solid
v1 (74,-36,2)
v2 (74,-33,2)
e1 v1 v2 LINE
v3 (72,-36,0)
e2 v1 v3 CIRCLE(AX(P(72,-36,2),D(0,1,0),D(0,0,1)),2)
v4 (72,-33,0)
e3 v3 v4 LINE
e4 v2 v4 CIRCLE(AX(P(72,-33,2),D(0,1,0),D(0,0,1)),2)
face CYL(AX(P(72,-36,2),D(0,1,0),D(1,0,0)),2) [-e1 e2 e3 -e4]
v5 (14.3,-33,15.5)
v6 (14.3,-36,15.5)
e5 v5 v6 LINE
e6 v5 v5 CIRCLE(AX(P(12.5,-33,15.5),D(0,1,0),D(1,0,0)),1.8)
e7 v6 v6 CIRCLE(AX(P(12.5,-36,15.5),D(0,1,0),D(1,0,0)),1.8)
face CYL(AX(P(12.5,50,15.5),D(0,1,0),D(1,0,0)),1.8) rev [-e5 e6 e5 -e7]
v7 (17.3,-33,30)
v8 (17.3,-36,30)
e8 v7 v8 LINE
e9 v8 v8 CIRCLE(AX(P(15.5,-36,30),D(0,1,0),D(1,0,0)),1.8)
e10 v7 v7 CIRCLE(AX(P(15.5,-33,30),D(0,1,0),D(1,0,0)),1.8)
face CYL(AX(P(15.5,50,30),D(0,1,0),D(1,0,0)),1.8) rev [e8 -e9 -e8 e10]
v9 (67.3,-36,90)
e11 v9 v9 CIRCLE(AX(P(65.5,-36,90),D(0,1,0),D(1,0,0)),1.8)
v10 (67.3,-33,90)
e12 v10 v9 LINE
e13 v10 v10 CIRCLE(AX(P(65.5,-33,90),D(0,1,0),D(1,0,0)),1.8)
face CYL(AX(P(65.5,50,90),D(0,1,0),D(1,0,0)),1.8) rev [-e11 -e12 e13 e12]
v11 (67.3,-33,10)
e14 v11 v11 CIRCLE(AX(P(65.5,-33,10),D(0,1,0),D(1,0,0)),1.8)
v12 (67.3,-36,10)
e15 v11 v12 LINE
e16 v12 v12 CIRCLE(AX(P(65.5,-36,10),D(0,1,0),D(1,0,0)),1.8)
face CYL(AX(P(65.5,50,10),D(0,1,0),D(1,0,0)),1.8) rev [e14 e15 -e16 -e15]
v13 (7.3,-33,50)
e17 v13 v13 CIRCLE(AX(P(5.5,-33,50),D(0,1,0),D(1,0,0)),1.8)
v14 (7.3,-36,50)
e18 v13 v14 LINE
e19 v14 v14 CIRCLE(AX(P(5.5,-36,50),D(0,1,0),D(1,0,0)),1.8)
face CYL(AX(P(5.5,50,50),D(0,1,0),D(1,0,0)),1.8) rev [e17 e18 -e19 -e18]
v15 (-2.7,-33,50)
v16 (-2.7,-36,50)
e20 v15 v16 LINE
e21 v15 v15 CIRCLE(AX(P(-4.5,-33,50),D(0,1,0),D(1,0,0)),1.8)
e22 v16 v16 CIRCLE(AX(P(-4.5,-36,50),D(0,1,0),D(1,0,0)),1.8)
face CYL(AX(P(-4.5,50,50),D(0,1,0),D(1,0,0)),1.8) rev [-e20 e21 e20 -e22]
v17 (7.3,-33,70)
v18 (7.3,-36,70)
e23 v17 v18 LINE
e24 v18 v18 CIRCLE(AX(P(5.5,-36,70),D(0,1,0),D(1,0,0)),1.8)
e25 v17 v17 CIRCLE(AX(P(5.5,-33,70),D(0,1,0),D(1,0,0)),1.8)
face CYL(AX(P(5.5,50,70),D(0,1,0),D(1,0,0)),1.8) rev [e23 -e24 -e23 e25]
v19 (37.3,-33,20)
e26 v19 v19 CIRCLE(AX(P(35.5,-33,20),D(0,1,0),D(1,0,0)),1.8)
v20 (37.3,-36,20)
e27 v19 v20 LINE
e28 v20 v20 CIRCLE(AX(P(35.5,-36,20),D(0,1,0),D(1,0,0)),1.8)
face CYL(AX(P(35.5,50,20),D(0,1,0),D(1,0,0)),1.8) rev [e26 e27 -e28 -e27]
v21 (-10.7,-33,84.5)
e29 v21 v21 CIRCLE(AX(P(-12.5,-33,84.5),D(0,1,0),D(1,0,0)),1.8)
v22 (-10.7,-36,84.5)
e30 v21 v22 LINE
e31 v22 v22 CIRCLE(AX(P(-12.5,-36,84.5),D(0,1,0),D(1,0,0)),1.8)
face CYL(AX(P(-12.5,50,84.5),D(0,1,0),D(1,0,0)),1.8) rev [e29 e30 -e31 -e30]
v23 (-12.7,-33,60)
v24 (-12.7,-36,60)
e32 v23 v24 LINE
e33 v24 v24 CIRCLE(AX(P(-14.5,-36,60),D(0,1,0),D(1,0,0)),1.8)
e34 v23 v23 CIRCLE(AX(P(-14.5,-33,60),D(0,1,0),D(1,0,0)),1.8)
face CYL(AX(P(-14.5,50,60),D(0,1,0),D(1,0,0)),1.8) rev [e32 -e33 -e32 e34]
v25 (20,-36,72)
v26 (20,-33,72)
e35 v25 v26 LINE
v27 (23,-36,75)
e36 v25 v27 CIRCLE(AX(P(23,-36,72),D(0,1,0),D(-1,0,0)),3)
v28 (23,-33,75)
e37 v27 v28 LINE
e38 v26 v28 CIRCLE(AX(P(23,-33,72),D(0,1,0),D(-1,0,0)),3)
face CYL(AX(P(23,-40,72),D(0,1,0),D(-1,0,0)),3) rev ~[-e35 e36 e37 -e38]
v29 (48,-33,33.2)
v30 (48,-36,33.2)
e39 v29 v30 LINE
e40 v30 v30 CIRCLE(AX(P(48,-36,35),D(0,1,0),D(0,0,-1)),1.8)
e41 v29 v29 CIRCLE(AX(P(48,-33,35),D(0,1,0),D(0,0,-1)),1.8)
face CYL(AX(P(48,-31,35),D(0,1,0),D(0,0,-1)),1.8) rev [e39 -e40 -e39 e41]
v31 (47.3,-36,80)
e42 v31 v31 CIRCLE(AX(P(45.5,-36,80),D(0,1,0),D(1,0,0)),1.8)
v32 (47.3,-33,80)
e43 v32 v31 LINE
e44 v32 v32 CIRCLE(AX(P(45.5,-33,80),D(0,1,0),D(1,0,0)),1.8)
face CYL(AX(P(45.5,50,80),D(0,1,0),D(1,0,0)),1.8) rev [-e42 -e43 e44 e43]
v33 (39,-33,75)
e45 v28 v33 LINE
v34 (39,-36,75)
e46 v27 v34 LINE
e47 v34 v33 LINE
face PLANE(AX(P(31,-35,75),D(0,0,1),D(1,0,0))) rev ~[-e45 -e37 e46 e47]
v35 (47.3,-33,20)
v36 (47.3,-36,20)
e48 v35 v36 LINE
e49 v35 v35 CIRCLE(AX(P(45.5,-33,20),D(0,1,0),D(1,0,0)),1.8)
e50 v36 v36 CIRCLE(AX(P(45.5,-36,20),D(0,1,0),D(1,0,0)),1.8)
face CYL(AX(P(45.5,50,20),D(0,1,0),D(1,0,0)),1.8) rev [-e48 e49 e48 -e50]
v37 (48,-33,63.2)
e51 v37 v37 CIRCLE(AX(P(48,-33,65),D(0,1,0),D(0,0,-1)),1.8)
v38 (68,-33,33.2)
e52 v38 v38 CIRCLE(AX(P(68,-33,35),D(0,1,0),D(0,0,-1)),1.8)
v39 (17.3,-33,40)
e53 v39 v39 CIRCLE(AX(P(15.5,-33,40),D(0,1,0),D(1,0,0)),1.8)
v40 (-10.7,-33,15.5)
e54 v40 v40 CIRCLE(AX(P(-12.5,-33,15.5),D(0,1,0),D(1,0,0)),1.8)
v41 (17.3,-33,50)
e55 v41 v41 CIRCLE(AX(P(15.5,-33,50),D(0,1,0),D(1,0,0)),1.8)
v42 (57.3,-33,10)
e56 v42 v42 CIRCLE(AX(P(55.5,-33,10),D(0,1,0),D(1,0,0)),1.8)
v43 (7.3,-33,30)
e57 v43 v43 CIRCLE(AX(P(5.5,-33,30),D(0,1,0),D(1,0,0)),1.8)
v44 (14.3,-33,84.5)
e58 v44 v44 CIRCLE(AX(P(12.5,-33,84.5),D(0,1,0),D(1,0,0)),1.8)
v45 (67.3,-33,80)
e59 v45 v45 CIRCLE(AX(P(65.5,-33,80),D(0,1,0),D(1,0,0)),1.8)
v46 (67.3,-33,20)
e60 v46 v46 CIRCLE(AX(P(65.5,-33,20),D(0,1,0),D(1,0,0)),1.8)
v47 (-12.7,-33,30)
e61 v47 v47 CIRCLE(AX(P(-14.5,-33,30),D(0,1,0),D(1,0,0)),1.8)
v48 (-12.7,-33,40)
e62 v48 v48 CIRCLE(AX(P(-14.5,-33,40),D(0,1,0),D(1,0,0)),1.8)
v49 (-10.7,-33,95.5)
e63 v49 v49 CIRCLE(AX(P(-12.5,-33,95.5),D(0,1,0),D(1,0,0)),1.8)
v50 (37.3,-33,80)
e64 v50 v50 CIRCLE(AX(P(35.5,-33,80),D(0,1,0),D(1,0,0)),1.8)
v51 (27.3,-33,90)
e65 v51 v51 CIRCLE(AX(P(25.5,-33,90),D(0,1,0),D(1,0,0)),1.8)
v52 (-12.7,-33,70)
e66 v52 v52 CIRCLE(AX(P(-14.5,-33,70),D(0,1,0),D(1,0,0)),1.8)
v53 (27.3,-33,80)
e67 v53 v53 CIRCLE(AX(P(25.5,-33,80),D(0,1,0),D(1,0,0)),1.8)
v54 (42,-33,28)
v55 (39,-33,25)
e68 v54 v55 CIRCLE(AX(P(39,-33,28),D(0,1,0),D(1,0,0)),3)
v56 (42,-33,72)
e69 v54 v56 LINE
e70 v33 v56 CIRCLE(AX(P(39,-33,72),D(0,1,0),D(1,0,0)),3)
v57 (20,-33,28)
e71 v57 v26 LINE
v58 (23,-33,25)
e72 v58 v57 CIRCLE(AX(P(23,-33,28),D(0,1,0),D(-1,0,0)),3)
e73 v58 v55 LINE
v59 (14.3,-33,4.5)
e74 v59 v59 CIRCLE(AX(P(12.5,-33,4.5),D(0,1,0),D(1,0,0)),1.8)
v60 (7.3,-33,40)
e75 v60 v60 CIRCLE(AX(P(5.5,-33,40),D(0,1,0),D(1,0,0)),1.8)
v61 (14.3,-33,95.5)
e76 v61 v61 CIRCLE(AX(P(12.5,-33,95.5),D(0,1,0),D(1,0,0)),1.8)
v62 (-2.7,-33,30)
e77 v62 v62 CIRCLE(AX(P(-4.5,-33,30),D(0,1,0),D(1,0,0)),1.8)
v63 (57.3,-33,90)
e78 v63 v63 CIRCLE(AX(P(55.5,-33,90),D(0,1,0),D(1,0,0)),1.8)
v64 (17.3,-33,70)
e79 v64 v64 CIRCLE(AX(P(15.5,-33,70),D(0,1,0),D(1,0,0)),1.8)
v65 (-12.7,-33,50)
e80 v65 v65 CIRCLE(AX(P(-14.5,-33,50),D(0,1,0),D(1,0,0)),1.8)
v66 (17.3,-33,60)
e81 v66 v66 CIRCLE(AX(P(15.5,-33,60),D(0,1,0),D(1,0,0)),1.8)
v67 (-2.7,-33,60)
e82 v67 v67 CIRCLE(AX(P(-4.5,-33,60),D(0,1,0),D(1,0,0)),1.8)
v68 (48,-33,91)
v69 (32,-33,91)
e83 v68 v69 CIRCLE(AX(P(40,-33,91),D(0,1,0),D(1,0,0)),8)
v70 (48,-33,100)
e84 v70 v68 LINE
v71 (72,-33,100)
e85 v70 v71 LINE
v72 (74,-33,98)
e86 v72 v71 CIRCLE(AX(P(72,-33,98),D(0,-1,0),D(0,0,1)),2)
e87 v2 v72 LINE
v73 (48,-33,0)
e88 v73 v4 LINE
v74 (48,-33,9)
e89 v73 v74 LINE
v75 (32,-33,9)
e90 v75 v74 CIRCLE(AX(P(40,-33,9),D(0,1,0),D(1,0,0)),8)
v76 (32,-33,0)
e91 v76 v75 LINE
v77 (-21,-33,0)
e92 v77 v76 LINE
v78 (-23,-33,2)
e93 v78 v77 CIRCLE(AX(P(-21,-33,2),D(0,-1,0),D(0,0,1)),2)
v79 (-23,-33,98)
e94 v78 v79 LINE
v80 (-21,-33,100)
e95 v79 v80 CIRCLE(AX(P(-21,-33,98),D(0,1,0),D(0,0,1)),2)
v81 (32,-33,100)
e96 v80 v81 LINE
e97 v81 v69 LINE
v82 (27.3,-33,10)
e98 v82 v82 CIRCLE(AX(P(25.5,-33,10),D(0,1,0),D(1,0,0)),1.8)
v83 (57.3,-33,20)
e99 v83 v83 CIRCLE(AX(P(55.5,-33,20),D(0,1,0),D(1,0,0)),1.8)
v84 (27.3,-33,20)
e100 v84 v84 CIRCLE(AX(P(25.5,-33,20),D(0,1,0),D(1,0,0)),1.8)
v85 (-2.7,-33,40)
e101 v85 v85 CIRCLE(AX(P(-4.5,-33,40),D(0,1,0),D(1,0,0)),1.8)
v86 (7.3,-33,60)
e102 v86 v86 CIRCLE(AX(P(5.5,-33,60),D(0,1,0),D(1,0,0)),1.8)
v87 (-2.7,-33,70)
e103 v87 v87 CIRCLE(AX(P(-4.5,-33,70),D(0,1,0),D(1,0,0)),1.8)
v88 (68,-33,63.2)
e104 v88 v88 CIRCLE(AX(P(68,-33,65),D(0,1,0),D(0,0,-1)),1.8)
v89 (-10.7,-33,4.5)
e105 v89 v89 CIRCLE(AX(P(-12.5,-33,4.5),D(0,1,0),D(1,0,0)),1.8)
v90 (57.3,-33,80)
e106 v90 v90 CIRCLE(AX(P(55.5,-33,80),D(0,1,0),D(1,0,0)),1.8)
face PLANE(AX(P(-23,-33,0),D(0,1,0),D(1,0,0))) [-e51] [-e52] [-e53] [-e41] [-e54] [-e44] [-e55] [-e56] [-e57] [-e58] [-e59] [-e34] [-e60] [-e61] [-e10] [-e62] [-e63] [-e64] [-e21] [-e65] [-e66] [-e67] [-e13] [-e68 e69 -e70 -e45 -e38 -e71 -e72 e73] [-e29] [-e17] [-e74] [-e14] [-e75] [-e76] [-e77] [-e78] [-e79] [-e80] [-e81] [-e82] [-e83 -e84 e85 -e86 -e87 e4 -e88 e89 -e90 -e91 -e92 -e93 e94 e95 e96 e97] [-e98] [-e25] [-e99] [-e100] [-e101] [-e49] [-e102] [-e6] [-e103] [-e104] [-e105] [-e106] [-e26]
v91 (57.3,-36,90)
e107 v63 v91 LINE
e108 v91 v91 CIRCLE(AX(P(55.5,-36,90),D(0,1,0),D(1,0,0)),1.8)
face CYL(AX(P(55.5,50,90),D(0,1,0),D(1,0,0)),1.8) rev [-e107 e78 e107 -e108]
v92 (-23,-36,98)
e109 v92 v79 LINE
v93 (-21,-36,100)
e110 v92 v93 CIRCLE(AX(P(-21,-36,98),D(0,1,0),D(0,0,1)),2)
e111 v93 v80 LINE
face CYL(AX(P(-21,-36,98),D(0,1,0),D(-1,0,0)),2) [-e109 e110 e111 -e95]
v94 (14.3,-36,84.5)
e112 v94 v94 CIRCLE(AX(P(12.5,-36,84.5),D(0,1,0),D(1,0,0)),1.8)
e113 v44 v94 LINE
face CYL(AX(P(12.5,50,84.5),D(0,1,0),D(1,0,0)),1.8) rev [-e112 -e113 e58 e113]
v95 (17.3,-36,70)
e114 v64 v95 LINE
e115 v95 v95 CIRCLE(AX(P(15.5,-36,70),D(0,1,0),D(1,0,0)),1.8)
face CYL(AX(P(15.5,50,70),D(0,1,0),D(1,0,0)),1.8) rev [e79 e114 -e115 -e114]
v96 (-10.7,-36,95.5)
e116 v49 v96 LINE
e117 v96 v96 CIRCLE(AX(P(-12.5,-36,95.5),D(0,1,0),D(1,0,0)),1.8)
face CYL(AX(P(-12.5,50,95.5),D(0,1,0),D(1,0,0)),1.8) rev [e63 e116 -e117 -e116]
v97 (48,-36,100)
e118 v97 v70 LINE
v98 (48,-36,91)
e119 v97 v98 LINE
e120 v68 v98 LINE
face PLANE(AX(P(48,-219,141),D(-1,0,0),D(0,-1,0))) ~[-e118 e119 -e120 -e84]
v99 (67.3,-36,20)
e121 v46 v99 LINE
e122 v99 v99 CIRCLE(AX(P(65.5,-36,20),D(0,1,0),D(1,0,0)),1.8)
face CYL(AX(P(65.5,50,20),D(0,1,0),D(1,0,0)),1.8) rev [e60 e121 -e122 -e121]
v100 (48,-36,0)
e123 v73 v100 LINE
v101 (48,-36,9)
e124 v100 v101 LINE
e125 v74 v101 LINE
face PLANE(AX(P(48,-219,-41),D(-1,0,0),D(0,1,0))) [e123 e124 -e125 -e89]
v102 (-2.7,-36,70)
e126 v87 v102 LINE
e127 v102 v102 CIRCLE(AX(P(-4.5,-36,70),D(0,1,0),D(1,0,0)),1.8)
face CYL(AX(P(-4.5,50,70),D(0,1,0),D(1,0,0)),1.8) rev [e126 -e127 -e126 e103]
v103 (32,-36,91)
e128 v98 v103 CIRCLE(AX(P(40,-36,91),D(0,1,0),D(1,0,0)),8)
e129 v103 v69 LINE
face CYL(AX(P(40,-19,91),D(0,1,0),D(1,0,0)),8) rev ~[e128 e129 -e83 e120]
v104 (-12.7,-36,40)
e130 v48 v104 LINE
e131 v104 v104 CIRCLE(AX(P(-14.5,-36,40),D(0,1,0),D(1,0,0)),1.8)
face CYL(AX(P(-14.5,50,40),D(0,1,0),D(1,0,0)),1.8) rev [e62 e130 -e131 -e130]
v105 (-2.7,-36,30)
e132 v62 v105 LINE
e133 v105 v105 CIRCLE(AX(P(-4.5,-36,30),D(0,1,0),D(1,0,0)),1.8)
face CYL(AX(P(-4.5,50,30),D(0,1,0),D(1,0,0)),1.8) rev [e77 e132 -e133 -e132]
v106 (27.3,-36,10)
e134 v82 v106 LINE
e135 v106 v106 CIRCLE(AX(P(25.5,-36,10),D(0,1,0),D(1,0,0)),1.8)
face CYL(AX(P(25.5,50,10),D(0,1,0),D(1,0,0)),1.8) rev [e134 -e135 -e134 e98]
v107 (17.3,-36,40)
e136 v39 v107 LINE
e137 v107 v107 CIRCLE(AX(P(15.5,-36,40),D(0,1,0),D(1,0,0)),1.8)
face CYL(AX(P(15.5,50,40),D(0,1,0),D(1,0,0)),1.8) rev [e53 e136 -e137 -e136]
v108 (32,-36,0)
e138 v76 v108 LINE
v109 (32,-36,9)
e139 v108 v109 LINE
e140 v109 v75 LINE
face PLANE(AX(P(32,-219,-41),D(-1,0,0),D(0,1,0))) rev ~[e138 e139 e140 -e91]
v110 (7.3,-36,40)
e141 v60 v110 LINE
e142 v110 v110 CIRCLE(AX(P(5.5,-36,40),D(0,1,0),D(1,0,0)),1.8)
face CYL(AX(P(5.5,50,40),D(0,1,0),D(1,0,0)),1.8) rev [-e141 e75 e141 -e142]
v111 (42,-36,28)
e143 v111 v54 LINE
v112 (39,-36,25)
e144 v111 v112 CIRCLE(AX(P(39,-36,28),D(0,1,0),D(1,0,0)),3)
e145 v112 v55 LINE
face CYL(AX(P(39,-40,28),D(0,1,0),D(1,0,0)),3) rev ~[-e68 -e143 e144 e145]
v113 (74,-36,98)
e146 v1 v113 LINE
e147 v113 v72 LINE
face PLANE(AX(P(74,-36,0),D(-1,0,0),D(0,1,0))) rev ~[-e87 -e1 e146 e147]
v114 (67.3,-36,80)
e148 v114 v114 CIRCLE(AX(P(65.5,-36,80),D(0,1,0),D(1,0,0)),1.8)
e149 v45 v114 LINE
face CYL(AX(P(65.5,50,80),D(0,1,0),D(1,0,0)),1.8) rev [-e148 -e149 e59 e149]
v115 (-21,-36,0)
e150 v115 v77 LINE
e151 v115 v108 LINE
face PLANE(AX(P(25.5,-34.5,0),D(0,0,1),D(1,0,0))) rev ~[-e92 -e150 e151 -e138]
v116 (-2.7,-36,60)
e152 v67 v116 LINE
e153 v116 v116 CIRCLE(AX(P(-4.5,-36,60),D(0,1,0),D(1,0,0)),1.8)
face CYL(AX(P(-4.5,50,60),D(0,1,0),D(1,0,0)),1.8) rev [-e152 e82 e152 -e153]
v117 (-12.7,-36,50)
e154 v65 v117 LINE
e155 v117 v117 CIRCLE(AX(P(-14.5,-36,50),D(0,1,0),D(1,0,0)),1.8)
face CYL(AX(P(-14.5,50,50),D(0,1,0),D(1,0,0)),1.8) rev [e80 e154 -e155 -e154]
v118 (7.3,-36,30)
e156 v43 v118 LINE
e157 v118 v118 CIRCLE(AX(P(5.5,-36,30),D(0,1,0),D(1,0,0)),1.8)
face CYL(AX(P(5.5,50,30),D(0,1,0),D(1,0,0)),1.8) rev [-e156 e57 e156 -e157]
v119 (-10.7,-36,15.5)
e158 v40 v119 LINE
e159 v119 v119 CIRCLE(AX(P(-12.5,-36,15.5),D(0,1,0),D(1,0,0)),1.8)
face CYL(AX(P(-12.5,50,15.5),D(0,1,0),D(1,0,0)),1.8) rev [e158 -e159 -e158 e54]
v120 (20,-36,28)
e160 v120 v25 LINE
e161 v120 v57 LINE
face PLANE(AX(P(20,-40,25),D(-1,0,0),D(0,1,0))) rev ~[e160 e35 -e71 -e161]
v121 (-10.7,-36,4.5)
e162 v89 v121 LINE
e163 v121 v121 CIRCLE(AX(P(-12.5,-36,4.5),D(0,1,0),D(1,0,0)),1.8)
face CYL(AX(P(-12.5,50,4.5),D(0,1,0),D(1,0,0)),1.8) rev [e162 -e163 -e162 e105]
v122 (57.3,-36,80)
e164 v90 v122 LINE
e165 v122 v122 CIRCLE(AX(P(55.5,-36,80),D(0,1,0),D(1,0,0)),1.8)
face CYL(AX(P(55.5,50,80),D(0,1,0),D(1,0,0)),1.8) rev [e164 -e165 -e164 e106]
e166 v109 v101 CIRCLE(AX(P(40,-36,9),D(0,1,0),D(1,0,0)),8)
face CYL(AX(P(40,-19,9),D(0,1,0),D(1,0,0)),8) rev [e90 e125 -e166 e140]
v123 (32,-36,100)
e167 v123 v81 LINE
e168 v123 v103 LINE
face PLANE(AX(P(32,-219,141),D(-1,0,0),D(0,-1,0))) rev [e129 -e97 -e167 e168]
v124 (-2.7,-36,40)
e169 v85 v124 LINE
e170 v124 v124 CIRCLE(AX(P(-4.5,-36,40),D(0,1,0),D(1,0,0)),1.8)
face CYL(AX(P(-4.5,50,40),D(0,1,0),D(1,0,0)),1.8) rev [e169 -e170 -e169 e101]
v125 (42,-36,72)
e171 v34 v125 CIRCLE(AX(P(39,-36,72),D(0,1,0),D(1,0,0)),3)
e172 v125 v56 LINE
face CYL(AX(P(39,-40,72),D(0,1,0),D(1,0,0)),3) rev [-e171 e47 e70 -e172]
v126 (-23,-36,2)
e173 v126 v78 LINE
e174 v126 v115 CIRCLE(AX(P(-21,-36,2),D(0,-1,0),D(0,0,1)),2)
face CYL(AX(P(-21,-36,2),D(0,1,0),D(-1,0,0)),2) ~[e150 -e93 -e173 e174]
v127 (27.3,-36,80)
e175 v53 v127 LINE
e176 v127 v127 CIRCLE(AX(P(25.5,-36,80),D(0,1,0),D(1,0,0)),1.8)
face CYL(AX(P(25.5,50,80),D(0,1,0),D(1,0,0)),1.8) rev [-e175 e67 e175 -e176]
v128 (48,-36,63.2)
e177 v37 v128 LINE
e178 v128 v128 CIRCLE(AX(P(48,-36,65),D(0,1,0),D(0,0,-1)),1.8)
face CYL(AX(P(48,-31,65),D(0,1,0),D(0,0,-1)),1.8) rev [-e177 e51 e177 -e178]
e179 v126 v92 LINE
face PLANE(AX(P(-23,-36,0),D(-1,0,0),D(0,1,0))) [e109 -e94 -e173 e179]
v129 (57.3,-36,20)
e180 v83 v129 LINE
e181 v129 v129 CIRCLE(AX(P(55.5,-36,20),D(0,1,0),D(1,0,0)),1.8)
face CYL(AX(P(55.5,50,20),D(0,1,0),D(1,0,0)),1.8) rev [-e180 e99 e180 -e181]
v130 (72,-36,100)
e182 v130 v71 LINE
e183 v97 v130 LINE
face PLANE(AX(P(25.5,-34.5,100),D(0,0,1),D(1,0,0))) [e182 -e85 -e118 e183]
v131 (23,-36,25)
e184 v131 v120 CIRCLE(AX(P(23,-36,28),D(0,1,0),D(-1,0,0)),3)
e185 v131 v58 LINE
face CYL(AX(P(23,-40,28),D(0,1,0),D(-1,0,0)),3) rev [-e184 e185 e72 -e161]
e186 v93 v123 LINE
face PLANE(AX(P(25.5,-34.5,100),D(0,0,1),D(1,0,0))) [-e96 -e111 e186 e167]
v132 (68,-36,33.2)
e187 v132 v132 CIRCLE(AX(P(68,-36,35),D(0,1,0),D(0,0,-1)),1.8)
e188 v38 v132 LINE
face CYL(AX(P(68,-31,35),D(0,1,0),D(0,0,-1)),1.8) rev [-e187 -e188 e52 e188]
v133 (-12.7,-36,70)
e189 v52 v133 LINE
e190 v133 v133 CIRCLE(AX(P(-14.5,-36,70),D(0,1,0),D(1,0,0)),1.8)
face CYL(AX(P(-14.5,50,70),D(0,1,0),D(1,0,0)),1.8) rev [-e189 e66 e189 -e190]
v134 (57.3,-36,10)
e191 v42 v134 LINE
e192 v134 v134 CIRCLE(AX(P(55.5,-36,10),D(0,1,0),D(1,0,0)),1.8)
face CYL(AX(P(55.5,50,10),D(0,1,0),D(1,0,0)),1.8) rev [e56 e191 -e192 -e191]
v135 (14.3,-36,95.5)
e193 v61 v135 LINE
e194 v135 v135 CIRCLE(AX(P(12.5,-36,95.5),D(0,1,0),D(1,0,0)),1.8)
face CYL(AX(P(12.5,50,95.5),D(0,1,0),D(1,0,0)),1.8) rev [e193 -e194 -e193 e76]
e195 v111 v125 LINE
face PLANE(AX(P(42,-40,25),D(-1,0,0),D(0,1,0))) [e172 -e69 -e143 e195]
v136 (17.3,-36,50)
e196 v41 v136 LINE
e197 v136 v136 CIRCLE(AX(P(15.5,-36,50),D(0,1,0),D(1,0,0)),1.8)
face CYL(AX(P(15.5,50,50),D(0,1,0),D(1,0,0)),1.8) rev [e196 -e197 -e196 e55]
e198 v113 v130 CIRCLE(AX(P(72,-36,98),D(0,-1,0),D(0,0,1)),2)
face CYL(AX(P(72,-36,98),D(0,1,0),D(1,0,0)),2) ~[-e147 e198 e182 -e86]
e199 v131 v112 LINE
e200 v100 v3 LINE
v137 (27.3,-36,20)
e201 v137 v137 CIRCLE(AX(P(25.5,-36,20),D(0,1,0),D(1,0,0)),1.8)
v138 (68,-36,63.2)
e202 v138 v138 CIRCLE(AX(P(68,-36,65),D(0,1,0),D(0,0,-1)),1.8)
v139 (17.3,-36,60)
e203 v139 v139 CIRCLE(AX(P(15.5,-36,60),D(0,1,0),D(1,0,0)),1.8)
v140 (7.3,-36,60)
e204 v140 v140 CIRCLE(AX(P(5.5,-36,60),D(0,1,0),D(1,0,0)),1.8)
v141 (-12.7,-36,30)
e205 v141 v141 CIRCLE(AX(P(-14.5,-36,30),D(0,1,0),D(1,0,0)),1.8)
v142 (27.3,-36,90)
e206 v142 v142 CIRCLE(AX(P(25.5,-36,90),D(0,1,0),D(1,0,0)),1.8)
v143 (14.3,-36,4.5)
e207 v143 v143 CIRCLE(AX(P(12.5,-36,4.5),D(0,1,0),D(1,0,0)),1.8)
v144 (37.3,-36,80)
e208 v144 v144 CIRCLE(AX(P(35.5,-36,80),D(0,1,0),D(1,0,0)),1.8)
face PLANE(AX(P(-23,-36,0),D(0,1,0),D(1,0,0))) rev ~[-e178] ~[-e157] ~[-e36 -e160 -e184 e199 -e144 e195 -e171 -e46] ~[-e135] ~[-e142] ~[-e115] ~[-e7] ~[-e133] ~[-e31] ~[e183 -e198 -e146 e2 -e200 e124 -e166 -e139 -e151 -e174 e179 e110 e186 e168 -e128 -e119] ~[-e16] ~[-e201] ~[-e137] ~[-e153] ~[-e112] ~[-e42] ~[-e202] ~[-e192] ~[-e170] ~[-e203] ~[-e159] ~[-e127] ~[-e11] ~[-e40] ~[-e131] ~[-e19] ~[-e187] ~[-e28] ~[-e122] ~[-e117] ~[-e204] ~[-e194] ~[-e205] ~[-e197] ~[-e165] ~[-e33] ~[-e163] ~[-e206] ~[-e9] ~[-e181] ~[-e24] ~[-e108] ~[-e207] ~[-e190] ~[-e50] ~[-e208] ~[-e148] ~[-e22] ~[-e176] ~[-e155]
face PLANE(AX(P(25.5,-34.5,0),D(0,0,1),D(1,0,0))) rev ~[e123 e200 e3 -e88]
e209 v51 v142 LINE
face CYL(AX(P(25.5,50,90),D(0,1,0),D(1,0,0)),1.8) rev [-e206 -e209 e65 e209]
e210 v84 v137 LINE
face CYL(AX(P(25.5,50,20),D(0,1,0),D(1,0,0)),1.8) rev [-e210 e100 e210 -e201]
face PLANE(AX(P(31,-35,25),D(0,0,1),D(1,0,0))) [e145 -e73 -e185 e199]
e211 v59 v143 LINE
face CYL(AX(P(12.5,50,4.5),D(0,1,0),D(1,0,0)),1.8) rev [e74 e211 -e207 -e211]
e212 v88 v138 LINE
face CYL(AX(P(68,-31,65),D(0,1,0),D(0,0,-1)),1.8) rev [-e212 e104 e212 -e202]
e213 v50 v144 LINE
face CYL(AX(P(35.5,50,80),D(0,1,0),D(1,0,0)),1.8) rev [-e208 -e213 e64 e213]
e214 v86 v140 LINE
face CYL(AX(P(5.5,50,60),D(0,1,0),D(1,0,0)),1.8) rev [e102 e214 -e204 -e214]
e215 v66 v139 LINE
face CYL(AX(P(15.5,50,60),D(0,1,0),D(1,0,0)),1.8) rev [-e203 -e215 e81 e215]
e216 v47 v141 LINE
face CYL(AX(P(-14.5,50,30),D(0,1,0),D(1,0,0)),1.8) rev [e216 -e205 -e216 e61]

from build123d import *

# Parameters (mm, degrees)
CYLINDER038_R            = 1.8
CYLINDER038_DEPTH        = 100
ARRAY001_X_COUNT         = 2
ARRAY001_X_PITCH         = 25
ARRAY001_Y_COUNT         = 2
ARRAY001_Y_PITCH         = 11
ARRAY001_PLACEMENT_ANGLE = 90
ARRAY002_Z_COUNT         = 2
ARRAY002_Z_PITCH         = 80
CYLINDER011003_R         = 1.8
CYLINDER011003_DEPTH     = 10
ARRAY005_X_COUNT         = 2
ARRAY005_X_PITCH         = 30
ARRAY005_Y_COUNT         = 2
ARRAY005_Y_PITCH         = 20
ARRAY005_PITCH_ANGLE     = 90
ARRAY005_PLACEMENT_ANGLE = -90
BOX002_W                 = 22
BOX002_H                 = 10
BOX002_DEPTH             = 50
FILLET002_R              = 3
BOX003_W                 = 16
BOX003_H                 = 200
BOX003_DEPTH             = 50
CYLINDER_R               = 8
CYLINDER_DEPTH           = 200
SKETCH_W                 = 42.117567
SKETCH_H                 = 23.738708
SKETCH_W_2               = 40.471139
SKETCH_H_2               = 27.047569
SKETCH_W_3               = 29.381024
SKETCH_H_3               = 46.19655
EXTRUDE_DEPTH            = 50
CYLINDER011002_R         = 1.8
CYLINDER011002_DEPTH     = 100
ARRAY004_X_COUNT         = 9
ARRAY004_X_PITCH         = 10
ARRAY004_Z_COUNT         = 9
ARRAY004_Z_PITCH         = 10
BOX_W                    = 97
BOX_H                    = 3
BOX_DEPTH                = 100
FILLET_R                 = 2


with BuildPart() as bolt_hole_array_pair:
    # Cylinder038 → Cylinder038 (new body)
    with BuildSketch(Plane.XY.offset(-50)):
        Circle(CYLINDER038_R)
    extrude(amount=CYLINDER038_DEPTH)

    # Array001 X: bolt hole array pair ×2


with BuildPart() as bolt_hole_array_pair_1:
    add(bolt_hole_array_pair.part)
    with Locations(*[(i * ARRAY001_X_PITCH, 0, 0) for i in range(1, ARRAY001_X_COUNT)]):
        add(bolt_hole_array_pair.part)

    # Array001 Y: bolt hole array pair ×2


with BuildPart() as bolt_hole_array_pair_2:
    add(bolt_hole_array_pair_1.part)
    with Locations(*[(0, i * ARRAY001_Y_PITCH, 0) for i in range(1, ARRAY001_Y_COUNT)]):
        add(bolt_hole_array_pair_1.part)


with BuildPart() as bolt_hole_array_pair_3:
    # Array001 placement: moved
    add(bolt_hole_array_pair_2.part.moved(Location((-12.5, 0, 4.5))).rotate(Axis((-12.5, 0, 4.5), (1, 0, 0)), ARRAY001_PLACEMENT_ANGLE))

    # Array002 Z: bolt hole array pair ×2


with BuildPart() as bolt_hole_array_pair_4:
    add(bolt_hole_array_pair_3.part)
    with Locations(*[(0, 0, i * ARRAY002_Z_PITCH) for i in range(1, ARRAY002_Z_COUNT)]):
        add(bolt_hole_array_pair_3.part)


with BuildPart() as stepper_mount_hole_array:
    # Cylinder011003 → Cylinder011003 (new body)
    with BuildSketch(Plane.XY):
        Circle(CYLINDER011003_R)
    extrude(amount=CYLINDER011003_DEPTH)

    # Array005 X: stepper mount hole array ×2


with BuildPart() as stepper_mount_hole_array_1:
    add(stepper_mount_hole_array.part)
    with Locations(*[(i * ARRAY005_X_PITCH, 0, 0) for i in range(1, ARRAY005_X_COUNT)]):
        add(stepper_mount_hole_array.part)

    # Array005 Y: stepper mount hole array ×2


with BuildPart() as stepper_mount_hole_array_2:
    add(stepper_mount_hole_array_1.part)
    with Locations(*[(0, i * ARRAY005_Y_PITCH, 0) for i in range(1, ARRAY005_Y_COUNT)]):
        add(stepper_mount_hole_array_1.part)


with BuildPart() as stepper_mount_hole_array_3:
    # Array005 pitch: moved
    add(stepper_mount_hole_array_2.part.rotate(Axis((0, 0, 0), (0, 1, 0)), ARRAY005_PITCH_ANGLE))


with BuildPart() as stepper_mount_hole_array_4:
    # Array005 placement: moved
    add(stepper_mount_hole_array_3.part.moved(Location((48, -31, 65))).rotate(Axis((48, -31, 65), (0, 0, 1)), ARRAY005_PLACEMENT_ANGLE))


with BuildPart() as belt_hole_fillet:
    # Box002 → Box002 (new body)
    with BuildSketch(Plane(origin=(20, -40, 25), x_dir=(1, 0, 0), z_dir=(0, 0, 1))):
        with Locations((11, 5)):
            Rectangle(BOX002_W, BOX002_H)
    extrude(amount=BOX002_DEPTH)

    # Fillet002
    fillet002_edges = [belt_hole_fillet.edges().sort_by_distance(p)[0] for p in [
        (20, -35, 75),
        (20, -35, 25),
        (42, -35, 75),
        (42, -35, 25),
    ]]
    fillet(fillet002_edges, radius=FILLET002_R)


with BuildPart() as shaft_extension_cube:
    # Box003 → Box003 (new body)
    with BuildSketch(Plane(origin=(-8, -200, -50), x_dir=(1, 0, 0), z_dir=(0, 0, 1))):
        with Locations((8, 100)):
            Rectangle(BOX003_W, BOX003_H)
    extrude(amount=BOX003_DEPTH)


with BuildPart() as shaft_16mm_hole:
    # Cylinder → Cylinder (new body)
    with BuildSketch(Plane.XZ):
        Circle(CYLINDER_R)
    extrude(amount=CYLINDER_DEPTH)

    # Fusion002: union shaft extension cube
    add(shaft_extension_cube.part)


with BuildPart() as shaft_16mm_hole_1:
    # Fusion002 placement: moved
    add(shaft_16mm_hole.part.moved(Location((40, -19, 9))))


with BuildPart() as part_mirroring:
    # Part__Mirroring: instance of shaft 16mm hole
    add(shaft_16mm_hole_1.part.mirror(Plane(origin=(0, 0, 50), x_dir=(0, 1, 0), z_dir=(0, 0, 1))))


with BuildPart() as general_holes_extrude:
    # Sketch → Extrude (new body, symmetric)
    with BuildSketch(Plane.XZ):
        with Locations((-1.795196, 11.674214)):
            Rectangle(SKETCH_W, SKETCH_H)
        with Locations((-0.985158, 89.151065)):
            Rectangle(SKETCH_W_2, SKETCH_H_2)
        with Locations((57.017252, 49.302802)):
            Rectangle(SKETCH_W_3, SKETCH_H_3)
    extrude(amount=EXTRUDE_DEPTH, both=True)


with BuildPart() as hole_fusion:
    # Cylinder011002 → Cylinder011002 (new body)
    with BuildSketch(Plane.XZ.offset(-50)):
        Circle(CYLINDER011002_R)
    extrude(amount=CYLINDER011002_DEPTH)

    # Array004 X: hole fusion ×9


with BuildPart() as hole_fusion_1:
    add(hole_fusion.part)
    with Locations(*[(i * ARRAY004_X_PITCH, 0, 0) for i in range(1, ARRAY004_X_COUNT)]):
        add(hole_fusion.part)

    # Array004 Z: hole fusion ×9


with BuildPart() as hole_fusion_2:
    add(hole_fusion_1.part)
    with Locations(*[(0, 0, i * ARRAY004_Z_PITCH) for i in range(1, ARRAY004_Z_COUNT)]):
        add(hole_fusion_1.part)


with BuildPart() as hole_fusion_3:
    # Array004 placement: moved
    add(hole_fusion_2.part.moved(Location((-14.5, 0, 10))))

    # Cut: cut general holes extrude
    add(general_holes_extrude.part, mode=Mode.SUBTRACT)

    # Fusion: union bolt hole array pair, stepper mount hole array, belt hole fillet, Part__Mirroring, shaft 16mm hole
    add(bolt_hole_array_pair_4.part)
    add(stepper_mount_hole_array_4.part)
    add(belt_hole_fillet.part)
    add(part_mirroring.part)
    add(shaft_16mm_hole_1.part)


with BuildPart() as side_plate_cut:
    # Box → Box (new body)
    with BuildSketch(Plane(origin=(-23, -36, 0), x_dir=(1, 0, 0), z_dir=(0, 0, 1))):
        with Locations((48.5, 1.5)):
            Rectangle(BOX_W, BOX_H)
    extrude(amount=BOX_DEPTH)

    # Fillet
    fillet_edges = [side_plate_cut.edges().sort_by_distance(p)[0] for p in [
        (-23, -34.5, 100),
        (-23, -34.5, 0),
        (74, -34.5, 100),
        (74, -34.5, 0),
    ]]
    fillet(fillet_edges, radius=FILLET_R)

    # Cut023015009002: cut hole fusion
    add(hole_fusion_3.part, mode=Mode.SUBTRACT)


solid = side_plate_cut.part
